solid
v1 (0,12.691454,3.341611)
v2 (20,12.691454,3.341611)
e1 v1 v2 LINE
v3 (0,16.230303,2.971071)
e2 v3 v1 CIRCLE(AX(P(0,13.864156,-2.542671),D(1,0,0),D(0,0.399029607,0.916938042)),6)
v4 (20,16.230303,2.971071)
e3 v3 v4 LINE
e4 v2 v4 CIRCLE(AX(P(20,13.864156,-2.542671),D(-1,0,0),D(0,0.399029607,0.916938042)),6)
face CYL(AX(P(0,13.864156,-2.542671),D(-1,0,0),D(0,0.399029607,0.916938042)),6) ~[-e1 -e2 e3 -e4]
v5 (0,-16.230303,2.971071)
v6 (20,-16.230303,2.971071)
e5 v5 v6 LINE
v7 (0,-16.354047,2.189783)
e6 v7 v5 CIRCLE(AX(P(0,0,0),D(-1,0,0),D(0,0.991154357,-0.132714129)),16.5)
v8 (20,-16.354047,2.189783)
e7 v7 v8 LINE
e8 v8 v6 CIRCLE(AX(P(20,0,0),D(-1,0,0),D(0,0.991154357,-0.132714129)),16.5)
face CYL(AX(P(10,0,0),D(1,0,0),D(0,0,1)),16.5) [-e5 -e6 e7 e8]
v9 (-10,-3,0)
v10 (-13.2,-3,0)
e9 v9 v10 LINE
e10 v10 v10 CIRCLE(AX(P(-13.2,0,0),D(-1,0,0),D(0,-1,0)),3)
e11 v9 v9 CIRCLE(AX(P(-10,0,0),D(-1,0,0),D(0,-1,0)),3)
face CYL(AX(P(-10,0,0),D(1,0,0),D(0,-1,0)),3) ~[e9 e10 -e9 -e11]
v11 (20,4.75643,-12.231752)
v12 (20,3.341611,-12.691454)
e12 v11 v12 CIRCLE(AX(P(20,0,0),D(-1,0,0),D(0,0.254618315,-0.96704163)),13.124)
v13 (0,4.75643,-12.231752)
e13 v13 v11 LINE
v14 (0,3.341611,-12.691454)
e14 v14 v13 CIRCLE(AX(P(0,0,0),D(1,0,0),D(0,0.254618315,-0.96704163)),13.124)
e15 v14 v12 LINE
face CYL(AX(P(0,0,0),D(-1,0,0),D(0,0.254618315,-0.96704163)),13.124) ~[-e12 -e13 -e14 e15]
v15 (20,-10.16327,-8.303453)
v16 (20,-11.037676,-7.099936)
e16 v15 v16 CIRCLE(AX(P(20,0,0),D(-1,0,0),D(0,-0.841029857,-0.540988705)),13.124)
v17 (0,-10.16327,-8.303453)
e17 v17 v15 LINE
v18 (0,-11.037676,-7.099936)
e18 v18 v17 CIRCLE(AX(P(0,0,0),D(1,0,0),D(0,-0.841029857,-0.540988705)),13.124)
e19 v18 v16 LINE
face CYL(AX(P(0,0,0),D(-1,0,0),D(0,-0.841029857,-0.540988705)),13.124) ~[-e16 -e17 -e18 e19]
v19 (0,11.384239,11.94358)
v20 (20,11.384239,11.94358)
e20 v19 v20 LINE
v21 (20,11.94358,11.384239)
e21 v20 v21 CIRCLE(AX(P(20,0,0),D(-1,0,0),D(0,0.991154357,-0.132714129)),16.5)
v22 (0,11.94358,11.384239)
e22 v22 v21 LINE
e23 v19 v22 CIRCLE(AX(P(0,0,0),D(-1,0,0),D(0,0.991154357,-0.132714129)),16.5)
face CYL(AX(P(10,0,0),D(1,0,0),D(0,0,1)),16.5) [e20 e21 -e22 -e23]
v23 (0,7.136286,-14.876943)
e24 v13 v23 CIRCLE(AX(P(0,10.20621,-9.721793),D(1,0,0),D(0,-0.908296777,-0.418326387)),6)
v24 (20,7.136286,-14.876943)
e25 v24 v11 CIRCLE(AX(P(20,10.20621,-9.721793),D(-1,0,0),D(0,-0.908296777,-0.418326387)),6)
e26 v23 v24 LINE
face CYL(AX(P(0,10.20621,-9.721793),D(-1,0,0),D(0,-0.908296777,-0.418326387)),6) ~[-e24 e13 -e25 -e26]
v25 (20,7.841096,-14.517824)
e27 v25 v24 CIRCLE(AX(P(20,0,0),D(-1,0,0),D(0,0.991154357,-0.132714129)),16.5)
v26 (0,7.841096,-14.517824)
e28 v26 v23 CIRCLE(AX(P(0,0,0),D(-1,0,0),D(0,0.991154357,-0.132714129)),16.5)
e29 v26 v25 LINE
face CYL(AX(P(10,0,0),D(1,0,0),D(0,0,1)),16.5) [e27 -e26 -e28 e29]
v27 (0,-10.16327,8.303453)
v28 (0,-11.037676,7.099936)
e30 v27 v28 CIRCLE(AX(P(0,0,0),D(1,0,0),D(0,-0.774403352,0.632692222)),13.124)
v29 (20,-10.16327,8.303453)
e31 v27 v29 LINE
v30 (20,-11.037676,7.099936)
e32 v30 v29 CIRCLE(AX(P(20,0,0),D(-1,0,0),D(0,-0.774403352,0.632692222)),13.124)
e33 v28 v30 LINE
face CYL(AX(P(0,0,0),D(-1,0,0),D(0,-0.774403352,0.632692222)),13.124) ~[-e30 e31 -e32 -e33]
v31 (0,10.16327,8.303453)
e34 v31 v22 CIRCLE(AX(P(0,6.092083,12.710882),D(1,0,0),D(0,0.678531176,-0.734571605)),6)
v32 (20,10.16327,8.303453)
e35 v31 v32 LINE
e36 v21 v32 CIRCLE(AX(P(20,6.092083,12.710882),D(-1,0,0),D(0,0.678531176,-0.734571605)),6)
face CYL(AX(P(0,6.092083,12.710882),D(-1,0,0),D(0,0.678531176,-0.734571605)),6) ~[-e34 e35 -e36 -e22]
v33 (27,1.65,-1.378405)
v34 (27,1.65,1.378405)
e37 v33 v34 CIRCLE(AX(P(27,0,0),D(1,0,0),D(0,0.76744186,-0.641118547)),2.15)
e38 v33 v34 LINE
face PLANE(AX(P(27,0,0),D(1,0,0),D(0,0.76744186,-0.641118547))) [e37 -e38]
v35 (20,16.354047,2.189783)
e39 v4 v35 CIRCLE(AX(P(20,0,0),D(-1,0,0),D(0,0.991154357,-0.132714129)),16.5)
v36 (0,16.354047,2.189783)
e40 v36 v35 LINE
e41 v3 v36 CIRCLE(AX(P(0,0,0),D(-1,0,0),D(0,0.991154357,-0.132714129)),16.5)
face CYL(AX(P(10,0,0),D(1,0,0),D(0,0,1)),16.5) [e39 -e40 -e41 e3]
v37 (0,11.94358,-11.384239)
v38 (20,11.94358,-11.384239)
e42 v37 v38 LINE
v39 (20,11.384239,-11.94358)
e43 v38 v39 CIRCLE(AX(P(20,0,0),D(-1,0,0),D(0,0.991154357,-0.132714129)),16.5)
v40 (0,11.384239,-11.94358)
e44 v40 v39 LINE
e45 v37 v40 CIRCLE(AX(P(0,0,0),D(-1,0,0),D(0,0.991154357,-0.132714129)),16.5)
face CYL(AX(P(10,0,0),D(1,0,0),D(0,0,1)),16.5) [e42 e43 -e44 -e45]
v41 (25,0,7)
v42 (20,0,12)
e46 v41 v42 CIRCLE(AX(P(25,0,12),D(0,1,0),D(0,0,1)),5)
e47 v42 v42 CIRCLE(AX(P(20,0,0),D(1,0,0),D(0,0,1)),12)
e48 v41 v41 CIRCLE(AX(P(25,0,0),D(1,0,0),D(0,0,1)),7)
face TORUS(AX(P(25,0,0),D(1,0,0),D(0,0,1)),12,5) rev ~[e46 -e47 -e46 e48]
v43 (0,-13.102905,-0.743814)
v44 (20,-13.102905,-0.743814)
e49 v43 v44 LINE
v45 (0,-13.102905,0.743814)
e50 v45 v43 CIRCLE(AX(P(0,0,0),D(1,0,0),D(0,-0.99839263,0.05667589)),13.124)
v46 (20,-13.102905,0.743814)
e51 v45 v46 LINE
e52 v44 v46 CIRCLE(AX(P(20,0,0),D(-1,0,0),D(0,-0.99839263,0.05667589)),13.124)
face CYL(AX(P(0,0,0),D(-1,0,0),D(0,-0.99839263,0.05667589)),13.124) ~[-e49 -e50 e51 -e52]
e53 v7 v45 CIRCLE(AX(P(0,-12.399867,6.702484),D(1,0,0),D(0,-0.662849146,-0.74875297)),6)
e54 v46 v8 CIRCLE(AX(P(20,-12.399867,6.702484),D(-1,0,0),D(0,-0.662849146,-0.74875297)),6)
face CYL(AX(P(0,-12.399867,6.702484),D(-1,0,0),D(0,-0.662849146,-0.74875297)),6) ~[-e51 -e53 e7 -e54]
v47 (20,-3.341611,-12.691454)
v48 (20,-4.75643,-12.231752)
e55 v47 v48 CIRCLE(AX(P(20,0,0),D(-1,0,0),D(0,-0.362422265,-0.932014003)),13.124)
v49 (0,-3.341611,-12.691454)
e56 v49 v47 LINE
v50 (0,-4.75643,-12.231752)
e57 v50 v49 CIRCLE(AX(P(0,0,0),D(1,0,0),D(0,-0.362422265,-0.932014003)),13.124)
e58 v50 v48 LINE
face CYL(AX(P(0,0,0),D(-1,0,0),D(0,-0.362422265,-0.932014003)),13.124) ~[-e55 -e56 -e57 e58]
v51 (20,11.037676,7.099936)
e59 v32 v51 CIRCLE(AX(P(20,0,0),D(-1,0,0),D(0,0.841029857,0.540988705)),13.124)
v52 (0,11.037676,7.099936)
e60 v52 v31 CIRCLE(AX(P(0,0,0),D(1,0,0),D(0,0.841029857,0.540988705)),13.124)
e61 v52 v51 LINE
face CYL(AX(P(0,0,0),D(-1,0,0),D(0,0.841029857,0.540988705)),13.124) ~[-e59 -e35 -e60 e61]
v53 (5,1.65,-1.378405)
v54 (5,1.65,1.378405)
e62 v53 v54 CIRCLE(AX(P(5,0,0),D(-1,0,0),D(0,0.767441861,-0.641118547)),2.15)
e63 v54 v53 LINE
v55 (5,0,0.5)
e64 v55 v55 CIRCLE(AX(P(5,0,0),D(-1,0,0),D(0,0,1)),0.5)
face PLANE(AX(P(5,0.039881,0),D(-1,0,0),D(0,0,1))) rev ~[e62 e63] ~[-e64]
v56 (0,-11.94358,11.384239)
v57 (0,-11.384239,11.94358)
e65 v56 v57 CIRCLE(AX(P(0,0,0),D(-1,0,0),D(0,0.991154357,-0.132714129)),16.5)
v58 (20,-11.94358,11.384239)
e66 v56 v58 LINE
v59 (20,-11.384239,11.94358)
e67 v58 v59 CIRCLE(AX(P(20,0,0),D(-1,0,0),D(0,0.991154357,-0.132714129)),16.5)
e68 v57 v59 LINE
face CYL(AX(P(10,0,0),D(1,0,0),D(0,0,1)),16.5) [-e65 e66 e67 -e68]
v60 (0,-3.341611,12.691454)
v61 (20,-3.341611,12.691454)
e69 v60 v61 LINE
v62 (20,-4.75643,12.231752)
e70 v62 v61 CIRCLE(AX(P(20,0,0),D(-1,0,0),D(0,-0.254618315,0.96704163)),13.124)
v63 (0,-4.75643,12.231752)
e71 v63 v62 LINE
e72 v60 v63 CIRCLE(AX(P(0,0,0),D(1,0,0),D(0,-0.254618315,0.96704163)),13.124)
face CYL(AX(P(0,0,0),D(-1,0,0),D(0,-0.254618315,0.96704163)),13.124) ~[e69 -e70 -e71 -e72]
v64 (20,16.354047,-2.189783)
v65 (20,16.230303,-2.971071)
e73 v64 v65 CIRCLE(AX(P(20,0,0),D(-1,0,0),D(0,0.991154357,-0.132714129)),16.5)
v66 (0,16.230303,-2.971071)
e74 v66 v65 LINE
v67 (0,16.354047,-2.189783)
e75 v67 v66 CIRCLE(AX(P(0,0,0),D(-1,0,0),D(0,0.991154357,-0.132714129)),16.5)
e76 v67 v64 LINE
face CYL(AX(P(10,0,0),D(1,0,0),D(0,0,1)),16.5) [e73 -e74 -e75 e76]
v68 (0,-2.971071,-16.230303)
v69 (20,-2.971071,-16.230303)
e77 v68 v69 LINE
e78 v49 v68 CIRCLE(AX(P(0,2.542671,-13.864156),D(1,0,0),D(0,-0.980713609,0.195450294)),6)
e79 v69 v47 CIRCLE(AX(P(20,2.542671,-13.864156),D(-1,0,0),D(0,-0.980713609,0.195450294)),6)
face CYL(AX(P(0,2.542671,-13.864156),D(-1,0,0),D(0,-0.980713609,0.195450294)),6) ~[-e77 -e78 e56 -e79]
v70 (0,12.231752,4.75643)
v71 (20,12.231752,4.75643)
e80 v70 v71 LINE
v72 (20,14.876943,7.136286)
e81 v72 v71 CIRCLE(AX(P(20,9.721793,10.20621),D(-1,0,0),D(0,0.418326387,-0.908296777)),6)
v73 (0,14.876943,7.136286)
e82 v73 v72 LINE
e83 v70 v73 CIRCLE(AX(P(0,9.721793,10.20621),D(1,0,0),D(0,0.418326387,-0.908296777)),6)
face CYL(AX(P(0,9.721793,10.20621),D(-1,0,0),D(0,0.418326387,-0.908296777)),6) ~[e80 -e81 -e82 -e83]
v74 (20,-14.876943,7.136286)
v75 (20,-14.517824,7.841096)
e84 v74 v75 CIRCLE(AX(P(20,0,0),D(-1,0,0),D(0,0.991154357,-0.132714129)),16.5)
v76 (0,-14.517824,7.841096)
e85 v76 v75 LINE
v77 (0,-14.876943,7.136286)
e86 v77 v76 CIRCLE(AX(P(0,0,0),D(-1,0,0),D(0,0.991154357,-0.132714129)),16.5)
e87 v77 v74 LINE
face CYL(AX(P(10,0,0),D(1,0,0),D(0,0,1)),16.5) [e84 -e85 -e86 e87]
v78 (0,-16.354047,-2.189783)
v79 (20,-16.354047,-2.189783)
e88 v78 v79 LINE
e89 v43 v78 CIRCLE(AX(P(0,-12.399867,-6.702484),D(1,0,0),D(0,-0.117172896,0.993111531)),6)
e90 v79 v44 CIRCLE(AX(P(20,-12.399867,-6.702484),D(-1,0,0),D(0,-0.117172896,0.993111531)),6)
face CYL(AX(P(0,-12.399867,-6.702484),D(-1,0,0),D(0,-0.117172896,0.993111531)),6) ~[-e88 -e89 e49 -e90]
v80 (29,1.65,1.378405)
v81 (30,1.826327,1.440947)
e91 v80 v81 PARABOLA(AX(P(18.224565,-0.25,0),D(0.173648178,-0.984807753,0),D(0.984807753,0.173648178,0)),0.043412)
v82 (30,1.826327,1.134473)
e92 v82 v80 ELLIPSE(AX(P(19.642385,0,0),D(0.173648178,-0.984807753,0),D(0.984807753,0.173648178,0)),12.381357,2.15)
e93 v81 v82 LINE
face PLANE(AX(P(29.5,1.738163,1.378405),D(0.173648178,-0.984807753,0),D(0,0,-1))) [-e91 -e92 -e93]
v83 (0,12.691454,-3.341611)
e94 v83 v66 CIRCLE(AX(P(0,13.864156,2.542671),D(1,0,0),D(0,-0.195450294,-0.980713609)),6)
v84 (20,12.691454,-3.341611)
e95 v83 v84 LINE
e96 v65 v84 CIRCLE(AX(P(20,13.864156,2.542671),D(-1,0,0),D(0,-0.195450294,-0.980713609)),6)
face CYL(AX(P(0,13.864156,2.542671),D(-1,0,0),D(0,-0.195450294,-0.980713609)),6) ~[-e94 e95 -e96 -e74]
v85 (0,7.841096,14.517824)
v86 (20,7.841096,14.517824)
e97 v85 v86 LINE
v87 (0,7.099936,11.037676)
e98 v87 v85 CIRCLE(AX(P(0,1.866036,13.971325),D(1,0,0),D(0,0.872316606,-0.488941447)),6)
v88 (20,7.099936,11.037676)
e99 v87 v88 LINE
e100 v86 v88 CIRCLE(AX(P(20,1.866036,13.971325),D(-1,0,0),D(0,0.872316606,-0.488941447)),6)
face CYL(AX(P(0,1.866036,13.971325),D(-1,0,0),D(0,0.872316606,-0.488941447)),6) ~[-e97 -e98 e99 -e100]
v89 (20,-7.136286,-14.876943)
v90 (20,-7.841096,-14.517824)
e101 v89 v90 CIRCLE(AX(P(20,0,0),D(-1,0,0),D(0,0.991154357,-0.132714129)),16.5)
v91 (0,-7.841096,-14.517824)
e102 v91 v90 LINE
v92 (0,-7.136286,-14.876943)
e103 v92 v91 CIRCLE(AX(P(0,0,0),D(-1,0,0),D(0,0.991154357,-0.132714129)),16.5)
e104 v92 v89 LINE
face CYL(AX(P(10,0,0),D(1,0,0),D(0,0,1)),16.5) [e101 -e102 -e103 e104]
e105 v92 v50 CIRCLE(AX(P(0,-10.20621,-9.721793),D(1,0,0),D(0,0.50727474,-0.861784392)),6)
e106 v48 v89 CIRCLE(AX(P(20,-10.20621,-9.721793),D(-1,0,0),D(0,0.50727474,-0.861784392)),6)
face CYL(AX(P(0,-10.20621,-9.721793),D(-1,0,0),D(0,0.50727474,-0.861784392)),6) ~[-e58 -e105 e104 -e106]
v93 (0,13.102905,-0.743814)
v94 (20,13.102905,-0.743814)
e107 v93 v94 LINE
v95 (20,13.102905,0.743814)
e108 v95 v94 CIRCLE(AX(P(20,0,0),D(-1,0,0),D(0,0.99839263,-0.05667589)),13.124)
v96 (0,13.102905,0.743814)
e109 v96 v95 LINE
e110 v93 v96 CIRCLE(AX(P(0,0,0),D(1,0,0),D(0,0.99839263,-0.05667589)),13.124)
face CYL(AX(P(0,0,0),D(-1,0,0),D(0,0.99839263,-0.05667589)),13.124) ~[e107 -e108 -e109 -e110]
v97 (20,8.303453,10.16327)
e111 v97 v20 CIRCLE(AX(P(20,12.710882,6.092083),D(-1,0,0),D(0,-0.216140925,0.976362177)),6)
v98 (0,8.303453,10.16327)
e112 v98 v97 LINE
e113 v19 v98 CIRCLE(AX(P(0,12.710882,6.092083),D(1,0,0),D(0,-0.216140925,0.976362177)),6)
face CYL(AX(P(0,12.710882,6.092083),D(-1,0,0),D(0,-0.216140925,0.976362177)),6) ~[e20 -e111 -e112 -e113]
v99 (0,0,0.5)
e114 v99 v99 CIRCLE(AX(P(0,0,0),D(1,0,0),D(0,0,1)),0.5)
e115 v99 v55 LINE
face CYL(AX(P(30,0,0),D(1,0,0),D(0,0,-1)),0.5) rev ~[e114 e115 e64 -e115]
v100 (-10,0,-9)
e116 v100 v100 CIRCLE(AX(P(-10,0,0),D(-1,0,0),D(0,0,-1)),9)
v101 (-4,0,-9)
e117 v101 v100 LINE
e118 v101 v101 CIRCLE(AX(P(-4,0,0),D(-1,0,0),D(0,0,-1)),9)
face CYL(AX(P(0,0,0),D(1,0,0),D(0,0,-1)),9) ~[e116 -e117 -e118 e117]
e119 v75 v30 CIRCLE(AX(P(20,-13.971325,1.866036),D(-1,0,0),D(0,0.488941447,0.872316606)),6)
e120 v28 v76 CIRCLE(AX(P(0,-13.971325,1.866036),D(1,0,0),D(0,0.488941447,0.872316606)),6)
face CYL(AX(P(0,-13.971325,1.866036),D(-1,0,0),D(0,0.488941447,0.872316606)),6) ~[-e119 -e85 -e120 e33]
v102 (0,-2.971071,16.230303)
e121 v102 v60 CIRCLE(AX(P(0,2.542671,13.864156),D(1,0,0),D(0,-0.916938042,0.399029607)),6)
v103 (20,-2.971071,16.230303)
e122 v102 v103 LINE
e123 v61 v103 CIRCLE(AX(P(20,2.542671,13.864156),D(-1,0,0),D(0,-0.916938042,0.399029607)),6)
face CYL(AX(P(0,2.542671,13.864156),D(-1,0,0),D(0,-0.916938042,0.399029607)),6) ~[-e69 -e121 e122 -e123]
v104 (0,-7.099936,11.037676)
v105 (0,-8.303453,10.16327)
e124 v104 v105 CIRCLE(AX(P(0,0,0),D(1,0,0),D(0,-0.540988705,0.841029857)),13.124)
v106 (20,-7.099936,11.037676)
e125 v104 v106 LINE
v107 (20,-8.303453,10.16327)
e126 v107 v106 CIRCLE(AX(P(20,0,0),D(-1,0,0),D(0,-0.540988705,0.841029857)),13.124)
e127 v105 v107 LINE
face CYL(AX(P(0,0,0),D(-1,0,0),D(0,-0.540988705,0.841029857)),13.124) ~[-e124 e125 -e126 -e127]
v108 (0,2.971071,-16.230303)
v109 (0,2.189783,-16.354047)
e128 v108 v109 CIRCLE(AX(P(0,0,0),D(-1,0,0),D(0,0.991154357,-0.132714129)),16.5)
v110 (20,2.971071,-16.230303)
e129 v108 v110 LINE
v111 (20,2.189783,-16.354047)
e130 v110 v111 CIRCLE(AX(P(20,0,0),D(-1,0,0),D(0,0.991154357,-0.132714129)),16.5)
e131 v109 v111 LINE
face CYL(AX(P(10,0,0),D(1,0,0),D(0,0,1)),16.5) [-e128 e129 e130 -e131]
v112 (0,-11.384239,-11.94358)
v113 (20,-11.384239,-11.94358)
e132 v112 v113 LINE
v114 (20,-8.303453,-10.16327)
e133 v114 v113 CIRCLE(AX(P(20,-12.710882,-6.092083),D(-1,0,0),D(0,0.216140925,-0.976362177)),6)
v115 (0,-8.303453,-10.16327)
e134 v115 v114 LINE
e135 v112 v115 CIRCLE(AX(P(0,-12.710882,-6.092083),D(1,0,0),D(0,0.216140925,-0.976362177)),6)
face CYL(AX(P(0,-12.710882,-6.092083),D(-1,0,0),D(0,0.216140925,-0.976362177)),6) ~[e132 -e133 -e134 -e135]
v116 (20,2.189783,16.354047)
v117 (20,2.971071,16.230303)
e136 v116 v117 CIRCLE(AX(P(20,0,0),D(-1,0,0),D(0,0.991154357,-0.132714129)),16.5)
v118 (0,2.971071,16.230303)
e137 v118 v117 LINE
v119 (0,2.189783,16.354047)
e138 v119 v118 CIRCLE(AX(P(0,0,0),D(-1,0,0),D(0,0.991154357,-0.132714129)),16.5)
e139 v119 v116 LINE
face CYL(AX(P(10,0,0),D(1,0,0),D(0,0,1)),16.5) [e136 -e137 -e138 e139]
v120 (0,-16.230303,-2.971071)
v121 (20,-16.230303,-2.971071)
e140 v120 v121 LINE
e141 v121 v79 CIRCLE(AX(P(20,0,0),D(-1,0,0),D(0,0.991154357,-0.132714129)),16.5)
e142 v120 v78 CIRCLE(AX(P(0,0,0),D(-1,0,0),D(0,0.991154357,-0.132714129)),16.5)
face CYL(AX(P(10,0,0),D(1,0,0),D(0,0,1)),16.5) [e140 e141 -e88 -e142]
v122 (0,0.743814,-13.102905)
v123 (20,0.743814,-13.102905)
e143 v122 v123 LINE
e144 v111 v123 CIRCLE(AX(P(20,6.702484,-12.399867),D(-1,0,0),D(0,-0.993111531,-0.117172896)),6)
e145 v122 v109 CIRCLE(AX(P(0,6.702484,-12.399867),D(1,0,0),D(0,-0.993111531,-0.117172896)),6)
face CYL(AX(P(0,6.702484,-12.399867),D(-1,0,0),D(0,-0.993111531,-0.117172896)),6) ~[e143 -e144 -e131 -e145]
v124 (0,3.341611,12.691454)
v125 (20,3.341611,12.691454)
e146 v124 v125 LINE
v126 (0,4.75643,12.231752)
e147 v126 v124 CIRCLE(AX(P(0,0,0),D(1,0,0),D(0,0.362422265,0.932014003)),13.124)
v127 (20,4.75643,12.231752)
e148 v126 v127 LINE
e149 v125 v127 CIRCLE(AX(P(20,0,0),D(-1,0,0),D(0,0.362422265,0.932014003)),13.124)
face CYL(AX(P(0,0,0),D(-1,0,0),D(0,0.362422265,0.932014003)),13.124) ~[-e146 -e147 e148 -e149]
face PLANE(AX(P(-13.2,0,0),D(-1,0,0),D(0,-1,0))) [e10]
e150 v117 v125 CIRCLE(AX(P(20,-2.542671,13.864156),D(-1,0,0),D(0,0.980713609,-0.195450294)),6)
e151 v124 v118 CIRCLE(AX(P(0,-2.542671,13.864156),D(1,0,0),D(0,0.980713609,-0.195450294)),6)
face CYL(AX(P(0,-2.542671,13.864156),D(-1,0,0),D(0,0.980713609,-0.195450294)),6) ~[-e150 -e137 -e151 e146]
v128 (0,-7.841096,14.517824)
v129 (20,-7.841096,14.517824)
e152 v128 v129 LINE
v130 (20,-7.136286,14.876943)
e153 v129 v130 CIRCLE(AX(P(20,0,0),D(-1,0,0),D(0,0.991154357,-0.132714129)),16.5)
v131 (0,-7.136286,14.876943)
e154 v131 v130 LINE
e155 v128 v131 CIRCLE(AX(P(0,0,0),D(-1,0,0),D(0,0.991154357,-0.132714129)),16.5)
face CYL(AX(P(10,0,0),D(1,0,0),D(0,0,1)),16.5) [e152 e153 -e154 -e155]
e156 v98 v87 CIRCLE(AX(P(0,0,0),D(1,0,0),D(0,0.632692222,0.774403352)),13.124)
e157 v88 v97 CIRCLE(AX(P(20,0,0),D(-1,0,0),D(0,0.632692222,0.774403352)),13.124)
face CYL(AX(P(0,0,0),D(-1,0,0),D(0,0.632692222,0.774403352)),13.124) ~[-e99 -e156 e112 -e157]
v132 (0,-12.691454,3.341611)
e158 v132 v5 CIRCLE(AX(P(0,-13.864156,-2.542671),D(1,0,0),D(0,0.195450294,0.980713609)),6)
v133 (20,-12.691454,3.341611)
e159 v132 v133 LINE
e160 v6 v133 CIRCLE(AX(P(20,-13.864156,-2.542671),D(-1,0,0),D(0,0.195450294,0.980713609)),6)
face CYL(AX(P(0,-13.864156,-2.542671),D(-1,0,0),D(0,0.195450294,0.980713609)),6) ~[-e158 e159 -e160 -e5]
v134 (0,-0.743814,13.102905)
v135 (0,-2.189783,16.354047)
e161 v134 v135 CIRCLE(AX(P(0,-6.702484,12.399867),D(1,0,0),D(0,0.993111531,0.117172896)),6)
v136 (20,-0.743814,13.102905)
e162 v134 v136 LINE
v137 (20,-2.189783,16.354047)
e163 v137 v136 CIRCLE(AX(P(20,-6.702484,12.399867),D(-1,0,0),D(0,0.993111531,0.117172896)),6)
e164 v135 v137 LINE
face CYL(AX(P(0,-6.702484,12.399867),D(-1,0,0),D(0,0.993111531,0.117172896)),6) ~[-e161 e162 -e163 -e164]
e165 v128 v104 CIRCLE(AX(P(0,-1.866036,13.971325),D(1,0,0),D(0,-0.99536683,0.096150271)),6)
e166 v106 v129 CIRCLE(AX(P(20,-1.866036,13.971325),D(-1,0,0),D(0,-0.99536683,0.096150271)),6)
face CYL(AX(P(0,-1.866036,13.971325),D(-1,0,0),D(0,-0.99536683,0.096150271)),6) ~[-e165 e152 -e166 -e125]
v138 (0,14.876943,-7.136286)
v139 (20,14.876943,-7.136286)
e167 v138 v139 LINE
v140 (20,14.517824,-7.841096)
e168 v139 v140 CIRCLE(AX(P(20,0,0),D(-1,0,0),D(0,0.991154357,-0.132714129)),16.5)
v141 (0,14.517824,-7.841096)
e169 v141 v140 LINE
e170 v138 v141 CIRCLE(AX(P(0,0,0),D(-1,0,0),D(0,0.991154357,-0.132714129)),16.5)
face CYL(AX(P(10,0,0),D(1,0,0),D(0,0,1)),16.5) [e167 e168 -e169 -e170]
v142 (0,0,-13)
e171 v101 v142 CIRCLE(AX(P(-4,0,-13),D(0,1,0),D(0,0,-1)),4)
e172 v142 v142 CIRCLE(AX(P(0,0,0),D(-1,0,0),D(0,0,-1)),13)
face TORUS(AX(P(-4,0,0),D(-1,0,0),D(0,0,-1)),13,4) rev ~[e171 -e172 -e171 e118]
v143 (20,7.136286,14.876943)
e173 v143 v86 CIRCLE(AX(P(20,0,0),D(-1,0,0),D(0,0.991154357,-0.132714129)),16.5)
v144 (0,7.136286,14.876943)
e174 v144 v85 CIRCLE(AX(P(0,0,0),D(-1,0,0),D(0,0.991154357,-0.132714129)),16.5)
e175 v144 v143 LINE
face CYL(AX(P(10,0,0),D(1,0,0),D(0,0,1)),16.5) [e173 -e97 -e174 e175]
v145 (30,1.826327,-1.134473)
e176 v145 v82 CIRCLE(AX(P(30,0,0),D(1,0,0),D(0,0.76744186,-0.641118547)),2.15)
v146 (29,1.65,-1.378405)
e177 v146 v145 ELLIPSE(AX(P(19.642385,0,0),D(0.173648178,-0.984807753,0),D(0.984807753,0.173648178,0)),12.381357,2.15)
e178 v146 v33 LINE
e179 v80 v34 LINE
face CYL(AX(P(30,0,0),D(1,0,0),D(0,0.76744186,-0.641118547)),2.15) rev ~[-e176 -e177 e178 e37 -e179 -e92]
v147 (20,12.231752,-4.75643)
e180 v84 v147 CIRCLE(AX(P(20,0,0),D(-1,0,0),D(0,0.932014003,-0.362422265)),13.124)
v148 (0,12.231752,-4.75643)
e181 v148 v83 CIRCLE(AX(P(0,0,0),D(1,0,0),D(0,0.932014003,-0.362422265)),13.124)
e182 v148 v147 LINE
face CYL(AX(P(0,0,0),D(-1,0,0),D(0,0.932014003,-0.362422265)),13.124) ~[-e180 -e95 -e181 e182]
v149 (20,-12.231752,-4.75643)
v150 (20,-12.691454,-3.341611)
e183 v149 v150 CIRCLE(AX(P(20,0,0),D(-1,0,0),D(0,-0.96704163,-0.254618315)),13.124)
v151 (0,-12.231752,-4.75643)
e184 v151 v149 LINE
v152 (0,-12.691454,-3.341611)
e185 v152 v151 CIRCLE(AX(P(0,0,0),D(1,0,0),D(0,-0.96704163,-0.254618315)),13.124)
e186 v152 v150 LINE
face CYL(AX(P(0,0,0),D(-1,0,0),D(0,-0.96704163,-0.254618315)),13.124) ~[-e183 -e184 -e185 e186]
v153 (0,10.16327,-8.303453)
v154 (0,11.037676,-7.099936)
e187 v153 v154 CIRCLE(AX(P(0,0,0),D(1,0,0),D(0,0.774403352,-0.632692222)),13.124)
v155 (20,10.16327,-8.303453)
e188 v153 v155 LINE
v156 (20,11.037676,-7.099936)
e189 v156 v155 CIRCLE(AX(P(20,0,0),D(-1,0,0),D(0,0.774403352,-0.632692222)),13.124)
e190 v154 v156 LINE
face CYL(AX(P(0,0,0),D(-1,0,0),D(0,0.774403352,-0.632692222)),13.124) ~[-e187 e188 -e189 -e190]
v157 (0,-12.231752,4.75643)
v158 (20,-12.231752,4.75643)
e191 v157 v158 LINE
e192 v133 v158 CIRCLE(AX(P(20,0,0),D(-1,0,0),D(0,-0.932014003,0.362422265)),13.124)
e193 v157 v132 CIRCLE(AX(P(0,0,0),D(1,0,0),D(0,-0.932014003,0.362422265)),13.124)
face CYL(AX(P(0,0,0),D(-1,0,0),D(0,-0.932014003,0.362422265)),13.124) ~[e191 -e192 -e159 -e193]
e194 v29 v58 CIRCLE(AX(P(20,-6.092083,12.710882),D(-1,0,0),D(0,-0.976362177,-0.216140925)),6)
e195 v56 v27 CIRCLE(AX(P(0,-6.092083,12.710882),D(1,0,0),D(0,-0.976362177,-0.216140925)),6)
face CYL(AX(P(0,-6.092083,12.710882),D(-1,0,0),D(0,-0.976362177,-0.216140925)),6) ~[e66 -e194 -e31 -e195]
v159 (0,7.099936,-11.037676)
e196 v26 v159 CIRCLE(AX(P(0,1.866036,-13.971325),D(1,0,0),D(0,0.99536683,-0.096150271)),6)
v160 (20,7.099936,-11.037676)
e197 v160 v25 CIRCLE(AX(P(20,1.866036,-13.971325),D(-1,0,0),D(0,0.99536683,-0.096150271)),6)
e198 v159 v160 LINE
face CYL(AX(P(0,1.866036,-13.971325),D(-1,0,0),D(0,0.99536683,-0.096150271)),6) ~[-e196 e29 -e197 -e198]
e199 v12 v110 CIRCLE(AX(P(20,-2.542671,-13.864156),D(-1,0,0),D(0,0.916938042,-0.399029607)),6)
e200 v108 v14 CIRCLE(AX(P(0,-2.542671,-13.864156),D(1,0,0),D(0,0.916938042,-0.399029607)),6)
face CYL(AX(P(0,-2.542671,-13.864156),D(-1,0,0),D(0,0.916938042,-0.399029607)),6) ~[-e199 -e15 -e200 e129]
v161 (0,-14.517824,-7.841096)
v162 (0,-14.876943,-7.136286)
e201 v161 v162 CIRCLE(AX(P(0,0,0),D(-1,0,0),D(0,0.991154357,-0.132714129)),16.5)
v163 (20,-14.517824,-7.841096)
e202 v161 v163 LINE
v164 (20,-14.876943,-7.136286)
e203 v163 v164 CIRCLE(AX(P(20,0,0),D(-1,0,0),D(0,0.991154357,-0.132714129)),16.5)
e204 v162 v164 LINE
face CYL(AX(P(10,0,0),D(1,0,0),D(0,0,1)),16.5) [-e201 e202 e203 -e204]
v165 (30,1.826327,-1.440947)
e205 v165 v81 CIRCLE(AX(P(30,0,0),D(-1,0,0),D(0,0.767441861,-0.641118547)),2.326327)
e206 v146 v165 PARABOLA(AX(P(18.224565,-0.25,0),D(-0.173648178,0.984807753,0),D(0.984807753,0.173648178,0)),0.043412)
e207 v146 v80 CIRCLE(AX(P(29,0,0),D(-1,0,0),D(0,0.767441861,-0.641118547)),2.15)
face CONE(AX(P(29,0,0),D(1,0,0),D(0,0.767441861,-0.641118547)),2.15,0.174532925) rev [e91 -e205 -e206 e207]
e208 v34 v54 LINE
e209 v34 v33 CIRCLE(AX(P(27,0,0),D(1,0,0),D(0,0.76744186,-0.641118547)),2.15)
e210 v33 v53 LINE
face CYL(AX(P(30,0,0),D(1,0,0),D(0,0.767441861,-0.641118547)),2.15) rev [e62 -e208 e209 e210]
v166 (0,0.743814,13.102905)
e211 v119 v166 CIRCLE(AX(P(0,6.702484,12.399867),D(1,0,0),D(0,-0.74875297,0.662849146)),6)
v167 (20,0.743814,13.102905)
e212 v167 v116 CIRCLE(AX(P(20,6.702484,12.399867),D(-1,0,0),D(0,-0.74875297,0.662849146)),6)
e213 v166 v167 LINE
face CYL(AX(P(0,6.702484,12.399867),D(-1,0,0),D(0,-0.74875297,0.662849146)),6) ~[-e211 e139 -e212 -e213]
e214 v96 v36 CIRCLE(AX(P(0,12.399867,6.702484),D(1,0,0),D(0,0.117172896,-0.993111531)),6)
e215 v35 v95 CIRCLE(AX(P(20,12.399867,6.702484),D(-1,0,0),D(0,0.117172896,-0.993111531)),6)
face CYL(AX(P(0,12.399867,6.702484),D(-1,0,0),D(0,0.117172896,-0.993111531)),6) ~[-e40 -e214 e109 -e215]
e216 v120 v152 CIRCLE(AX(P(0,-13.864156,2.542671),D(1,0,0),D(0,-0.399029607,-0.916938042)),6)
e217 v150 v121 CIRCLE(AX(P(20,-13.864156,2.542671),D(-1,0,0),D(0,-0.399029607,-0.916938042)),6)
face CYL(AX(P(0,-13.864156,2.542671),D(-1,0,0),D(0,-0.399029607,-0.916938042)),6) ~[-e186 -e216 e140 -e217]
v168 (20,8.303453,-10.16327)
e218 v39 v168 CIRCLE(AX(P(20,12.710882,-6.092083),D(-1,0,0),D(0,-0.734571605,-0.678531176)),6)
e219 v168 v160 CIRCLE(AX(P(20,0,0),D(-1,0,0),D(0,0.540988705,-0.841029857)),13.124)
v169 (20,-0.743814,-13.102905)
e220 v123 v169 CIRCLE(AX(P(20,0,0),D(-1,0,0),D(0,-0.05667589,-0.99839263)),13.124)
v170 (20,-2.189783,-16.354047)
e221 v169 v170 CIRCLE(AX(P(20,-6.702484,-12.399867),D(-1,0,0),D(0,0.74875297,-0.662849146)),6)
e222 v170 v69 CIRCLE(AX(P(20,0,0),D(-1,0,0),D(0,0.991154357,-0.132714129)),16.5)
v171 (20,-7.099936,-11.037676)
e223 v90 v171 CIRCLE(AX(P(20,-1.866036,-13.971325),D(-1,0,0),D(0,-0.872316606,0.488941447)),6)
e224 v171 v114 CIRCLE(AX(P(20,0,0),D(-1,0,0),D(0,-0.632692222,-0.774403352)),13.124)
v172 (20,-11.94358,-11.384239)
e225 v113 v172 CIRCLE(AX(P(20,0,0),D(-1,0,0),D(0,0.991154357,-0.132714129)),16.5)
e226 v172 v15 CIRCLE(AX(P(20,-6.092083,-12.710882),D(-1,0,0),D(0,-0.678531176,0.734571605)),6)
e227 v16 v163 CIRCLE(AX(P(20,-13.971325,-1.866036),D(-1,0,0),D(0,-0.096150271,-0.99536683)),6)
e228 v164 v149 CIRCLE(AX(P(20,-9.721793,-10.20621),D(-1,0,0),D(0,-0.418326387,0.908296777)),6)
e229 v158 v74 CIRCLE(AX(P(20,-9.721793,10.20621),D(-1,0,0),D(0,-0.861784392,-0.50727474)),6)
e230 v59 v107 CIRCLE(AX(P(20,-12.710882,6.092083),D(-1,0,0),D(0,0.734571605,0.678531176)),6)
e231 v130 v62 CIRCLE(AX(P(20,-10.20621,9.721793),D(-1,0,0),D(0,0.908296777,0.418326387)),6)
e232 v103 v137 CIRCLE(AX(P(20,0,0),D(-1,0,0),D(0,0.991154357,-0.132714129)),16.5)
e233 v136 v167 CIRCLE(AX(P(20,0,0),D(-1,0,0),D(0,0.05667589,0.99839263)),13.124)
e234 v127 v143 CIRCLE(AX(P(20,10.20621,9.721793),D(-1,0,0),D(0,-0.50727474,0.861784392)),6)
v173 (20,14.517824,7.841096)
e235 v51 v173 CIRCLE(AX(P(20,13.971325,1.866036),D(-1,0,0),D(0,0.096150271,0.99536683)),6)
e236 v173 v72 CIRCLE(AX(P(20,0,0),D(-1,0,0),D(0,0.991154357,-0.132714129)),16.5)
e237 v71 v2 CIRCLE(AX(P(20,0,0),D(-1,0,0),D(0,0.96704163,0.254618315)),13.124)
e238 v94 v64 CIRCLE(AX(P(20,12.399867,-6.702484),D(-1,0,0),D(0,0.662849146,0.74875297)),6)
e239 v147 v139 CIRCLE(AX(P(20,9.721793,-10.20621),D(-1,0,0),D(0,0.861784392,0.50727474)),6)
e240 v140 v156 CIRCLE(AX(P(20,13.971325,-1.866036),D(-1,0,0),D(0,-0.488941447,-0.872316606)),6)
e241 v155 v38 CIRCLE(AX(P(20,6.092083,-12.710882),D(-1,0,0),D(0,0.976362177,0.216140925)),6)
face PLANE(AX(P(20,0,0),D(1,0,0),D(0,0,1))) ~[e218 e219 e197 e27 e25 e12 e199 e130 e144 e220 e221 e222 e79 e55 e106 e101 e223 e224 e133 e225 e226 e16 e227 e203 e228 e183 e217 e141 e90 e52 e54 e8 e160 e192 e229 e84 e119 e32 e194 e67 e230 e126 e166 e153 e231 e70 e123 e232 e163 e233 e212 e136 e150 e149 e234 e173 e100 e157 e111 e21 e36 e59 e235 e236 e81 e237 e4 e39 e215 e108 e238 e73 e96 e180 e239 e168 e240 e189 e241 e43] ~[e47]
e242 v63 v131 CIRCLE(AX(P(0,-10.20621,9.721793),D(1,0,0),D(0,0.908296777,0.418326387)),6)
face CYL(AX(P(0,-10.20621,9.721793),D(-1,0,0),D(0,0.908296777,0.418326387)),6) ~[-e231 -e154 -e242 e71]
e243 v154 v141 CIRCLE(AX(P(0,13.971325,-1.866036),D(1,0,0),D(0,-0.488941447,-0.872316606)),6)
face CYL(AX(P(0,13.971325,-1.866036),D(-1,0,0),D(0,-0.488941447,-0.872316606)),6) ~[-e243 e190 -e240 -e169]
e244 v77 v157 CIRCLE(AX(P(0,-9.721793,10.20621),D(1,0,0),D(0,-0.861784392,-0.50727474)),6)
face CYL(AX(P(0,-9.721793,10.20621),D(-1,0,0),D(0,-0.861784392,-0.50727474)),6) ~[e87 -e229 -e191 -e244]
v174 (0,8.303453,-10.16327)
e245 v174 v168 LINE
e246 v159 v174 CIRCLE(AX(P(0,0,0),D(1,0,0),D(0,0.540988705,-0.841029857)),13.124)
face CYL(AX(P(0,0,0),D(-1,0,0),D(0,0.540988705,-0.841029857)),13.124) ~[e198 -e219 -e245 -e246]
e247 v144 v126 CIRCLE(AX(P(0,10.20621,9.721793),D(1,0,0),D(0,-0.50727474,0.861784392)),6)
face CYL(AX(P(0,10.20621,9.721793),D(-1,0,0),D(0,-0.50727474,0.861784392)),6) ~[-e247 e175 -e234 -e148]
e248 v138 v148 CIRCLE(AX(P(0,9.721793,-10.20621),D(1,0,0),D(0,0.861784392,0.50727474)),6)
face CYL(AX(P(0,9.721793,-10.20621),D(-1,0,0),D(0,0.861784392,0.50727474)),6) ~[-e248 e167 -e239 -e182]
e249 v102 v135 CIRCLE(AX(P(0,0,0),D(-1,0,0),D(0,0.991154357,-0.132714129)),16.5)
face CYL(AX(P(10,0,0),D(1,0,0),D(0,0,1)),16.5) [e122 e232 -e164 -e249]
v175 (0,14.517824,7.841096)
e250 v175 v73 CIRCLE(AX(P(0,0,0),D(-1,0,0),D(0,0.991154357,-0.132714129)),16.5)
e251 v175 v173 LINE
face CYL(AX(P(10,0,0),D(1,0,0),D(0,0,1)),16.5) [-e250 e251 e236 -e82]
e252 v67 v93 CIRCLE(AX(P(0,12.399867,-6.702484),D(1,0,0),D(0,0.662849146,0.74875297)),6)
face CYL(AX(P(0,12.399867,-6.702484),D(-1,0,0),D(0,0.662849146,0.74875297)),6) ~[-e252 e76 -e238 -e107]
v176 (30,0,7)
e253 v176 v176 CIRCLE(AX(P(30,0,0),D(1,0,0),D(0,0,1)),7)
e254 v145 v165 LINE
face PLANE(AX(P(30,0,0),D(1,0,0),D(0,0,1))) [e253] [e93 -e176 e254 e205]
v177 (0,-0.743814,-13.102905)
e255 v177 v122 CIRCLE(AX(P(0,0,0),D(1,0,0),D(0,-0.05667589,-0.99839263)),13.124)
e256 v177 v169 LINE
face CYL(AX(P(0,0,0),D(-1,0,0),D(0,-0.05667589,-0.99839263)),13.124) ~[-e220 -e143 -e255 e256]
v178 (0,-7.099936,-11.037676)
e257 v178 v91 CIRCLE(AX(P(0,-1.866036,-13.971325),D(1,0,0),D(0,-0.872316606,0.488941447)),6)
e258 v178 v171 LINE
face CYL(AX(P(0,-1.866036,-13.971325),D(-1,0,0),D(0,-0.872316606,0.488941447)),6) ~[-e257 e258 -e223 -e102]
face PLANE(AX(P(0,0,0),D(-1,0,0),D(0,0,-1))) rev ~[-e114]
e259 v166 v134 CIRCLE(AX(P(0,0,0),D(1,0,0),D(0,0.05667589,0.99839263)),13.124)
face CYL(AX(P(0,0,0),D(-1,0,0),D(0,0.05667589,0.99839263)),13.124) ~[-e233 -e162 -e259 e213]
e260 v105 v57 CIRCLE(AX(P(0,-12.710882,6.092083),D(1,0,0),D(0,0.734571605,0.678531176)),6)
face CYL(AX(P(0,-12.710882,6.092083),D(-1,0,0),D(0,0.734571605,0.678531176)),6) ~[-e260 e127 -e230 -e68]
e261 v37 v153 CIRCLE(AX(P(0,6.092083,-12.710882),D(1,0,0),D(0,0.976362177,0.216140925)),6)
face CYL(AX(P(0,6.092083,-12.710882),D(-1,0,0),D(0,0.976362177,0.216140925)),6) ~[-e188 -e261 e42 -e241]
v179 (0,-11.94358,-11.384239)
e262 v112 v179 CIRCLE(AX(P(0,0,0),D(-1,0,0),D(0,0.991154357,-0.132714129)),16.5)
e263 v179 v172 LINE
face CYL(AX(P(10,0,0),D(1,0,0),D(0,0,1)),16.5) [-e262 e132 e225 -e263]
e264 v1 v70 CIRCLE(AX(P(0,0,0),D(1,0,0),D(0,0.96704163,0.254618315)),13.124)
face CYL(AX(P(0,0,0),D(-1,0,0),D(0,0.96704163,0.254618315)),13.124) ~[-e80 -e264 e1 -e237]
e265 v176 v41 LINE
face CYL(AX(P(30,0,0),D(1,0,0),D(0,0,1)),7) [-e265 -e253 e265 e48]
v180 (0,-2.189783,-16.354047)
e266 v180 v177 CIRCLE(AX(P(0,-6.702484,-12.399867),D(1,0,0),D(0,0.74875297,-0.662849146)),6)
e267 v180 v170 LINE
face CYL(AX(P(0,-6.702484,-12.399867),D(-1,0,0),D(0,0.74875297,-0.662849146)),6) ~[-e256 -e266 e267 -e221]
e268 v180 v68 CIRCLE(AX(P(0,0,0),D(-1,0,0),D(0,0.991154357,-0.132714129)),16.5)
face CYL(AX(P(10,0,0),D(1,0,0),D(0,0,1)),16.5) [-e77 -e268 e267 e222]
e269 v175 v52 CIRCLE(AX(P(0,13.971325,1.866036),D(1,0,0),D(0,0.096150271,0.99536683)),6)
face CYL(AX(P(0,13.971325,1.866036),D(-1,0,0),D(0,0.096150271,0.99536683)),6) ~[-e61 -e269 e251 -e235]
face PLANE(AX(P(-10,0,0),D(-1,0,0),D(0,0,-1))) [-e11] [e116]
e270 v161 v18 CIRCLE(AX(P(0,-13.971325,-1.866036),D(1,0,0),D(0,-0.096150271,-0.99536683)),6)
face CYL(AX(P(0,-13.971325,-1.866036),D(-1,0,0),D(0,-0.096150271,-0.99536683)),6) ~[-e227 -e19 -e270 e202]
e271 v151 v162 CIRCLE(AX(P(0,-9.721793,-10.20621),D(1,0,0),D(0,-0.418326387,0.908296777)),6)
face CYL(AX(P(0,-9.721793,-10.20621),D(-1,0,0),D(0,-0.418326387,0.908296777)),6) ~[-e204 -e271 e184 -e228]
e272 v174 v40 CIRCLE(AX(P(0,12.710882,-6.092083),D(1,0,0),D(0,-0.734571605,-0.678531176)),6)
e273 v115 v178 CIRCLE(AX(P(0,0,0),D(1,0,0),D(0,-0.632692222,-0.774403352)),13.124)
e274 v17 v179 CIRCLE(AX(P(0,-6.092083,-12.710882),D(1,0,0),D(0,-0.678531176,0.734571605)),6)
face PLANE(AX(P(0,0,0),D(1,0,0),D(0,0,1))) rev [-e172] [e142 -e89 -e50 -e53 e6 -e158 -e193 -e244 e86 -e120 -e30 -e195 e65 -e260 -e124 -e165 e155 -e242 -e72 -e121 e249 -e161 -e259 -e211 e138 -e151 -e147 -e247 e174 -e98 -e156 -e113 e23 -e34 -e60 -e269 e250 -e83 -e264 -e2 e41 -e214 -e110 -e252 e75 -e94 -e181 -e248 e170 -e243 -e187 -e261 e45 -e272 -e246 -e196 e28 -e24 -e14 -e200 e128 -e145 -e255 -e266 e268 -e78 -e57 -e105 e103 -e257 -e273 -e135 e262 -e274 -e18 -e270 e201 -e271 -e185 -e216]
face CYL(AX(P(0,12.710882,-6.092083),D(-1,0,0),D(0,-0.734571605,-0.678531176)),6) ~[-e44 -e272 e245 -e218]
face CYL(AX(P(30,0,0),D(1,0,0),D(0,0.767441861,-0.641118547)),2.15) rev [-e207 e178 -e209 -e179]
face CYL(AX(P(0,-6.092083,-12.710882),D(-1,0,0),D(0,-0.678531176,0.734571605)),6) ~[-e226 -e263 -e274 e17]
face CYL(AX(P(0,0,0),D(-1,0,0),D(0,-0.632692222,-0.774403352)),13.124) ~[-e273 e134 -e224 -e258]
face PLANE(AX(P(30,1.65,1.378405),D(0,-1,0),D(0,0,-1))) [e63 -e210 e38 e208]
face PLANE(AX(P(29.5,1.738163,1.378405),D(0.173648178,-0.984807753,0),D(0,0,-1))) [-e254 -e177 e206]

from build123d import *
from OCP.BRepFilletAPI import BRepFilletAPI_MakeChamfer
from build123d.topology import SkipClean

# Parameters (mm, degrees)
BASPROSKE_W         = 20
BASPROSKE_H         = 16.5
TOOTHCUT_DEPTH      = 31.732718721
TEETHCUTS_COUNT     = 20
TEETHCUTS_ANGLE     = 342
BORSKE_R            = 0.5
BORE_DEPTH          = 50.0000508
BOSS_EXTRUDE1_START = 10
SKETCH1_R           = 7
SKETCH1_R_2         = 0.5
BOSS_EXTRUDE1_DEPTH = 10
FILLET1_R           = 5
SKETCH2_R           = 9
BOSS_EXTRUDE2_DEPTH = 10
SKETCH3_R           = 3
BOSS_EXTRUDE3_DEPTH = 3.2
FILLET2_R           = 4
CUT_EXTRUDE1_DEPTH  = 25
CHAMFER2_SIZE       = 1
CHAMFER2_SIZE2      = 0.176326981
SKETCH5_R           = 2.15
CUT_EXTRUDE2_DEPTH  = 3


with BuildPart() as part:
    # BasProSke → Base-Revolve (revolve)
    with BuildSketch(Plane(origin=(0, 0, 0), x_dir=(1, 0, 0), z_dir=(0, 1, 0)), mode=Mode.PRIVATE) as base_revolve_sk:
        with Locations((10, 8.25)):
            Rectangle(BASPROSKE_W, BASPROSKE_H)
    revolve(base_revolve_sk.sketch.rotate(Axis((-10, 0, 0), (1, 0, 0)), 180), axis=Axis((-10, 0, 0), (1, 0, 0)))

    # TooCutSke → ToothCut (cut, through all)
    with BuildSketch(Plane(origin=(0, 0, 0), x_dir=(0, 0, -1), z_dir=(1, 0, 0))):
        with BuildLine():
            ThreePointArc((0.74381438, 13.102904875), (0, 13.124), (-0.74381438, 13.102904875))
            ThreePointArc((-0.74381438, 13.102904875), (-1.226473103, 14.852072512), (-2.209965745, 16.376962373))
            ThreePointArc((-2.209965745, 16.376962373), (0, 16.5254), (2.209965745, 16.376962373))
            ThreePointArc((2.209965745, 16.376962373), (1.226473103, 14.852072512), (0.74381438, 13.102904875))
        make_face()
    toothcut = extrude(amount=TOOTHCUT_DEPTH, mode=Mode.SUBTRACT)

    # TeethCuts: ToothCut ×20 about axis
    teethcuts_axis = Axis((-10, 0, 0), (1, 0, 0))
    for i in range(1, TEETHCUTS_COUNT):
        add(toothcut.rotate(teethcuts_axis, i * TEETHCUTS_ANGLE / (TEETHCUTS_COUNT - 1)), mode=Mode.SUBTRACT)

    # BorSke → Bore (cut, symmetric)
    with BuildSketch(Plane(origin=(0, 0, 0), x_dir=(0, 0, -1), z_dir=(1, 0, 0))):
        with Locations(Location((0, 0, 0), (0, 0, 180))):
            Circle(BORSKE_R)
    extrude(amount=BORE_DEPTH, both=True, mode=Mode.SUBTRACT)

    # Sketch1 → Boss-Extrude1 (add)
    with BuildSketch(Plane(origin=(20, 0, 0), x_dir=(0, 0, -1), z_dir=(1, 0, 0)).offset(BOSS_EXTRUDE1_START)):
        with Locations(Location((0, 0, 0), (0, 0, 180))):
            Circle(SKETCH1_R)
        Circle(SKETCH1_R_2, mode=Mode.SUBTRACT)
    extrude(amount=-BOSS_EXTRUDE1_DEPTH)

    # Fillet1
    fillet1_edges = [part.edges().sort_by_distance(p)[0] for p in [
        (20, 0, -7),
    ]]
    fillet(fillet1_edges, radius=FILLET1_R)

    # Sketch2 → Boss-Extrude2 (add)
    with BuildSketch(Plane.ZY):
        with Locations(Location((0, 0, 0), (0, 0, 180))):
            Circle(SKETCH2_R)
    extrude(amount=BOSS_EXTRUDE2_DEPTH)

    # Sketch3 → Boss-Extrude3 (add)
    with BuildSketch(Plane.ZY.offset(10)):
        with Locations(Location((0, 0, 0), (0, 0, 270))):
            Circle(SKETCH3_R)
    extrude(amount=BOSS_EXTRUDE3_DEPTH)

    # Fillet2
    fillet2_edges = [part.edges().sort_by_distance(p)[0] for p in [
        (0, 0, 9),
    ]]
    fillet(fillet2_edges, radius=FILLET2_R)

    # Sketch4 → Cut-Extrude1 (cut)
    with BuildSketch(Plane(origin=(30, 0, 0), x_dir=(0, 0, -1), z_dir=(1, 0, 0))):
        with BuildLine():
            Line((-1.378404875, 1.65), (1.378404875, 1.65))
            ThreePointArc((1.378404875, 1.65), (0, -2.15), (-1.378404875, 1.65))
        make_face()
    extrude(amount=-CUT_EXTRUDE1_DEPTH, mode=Mode.SUBTRACT)

    # Chamfer2: one chamfer whose edges measure the first distance from different faces: ONE call of the kernel's chamfer builder (chamfer() names one face for all edges)
    chamfer2_edges_1 = [part.edges().sort_by_distance(p)[0] for p in [
        (30, 1.65, 0),
    ]]
    chamfer2_side_1 = [part.faces().sort_by_distance(p)[0] for p in [
        (17.5, 1.65, 0),
    ]]
    chamfer2_edges_2 = [part.edges().sort_by_distance(p)[0] for p in [
        (30, -2.15, 0),
    ]]
    chamfer2_side_2 = [part.faces().sort_by_distance(p)[0] for p in [
        (17.5, -2.15, 0),
    ]]
    chamfer2 = BRepFilletAPI_MakeChamfer(part.part.solid().wrapped)
    for e in chamfer2_edges_1:
        chamfer2.Add(CHAMFER2_SIZE, CHAMFER2_SIZE2, e.wrapped, chamfer2_side_1[0].wrapped)  # the first distance lies on this face
    for e in chamfer2_edges_2:
        chamfer2.Add(CHAMFER2_SIZE, CHAMFER2_SIZE2, e.wrapped, chamfer2_side_2[0].wrapped)  # the first distance lies on this face
    add(Compound.cast(chamfer2.Shape()), mode=Mode.REPLACE)

    # Sketch5 → Cut-Extrude2 (cut)
    with SkipClean():  # the faces are left unmerged after this step: merging them gives an invalid solid
        with BuildSketch(Plane(origin=(30, 0, 0), x_dir=(0, 0, -1), z_dir=(1, 0, 0))):
            with Locations(Location((0, 0, 0), (0, 0, 50.124722643))):
                Circle(SKETCH5_R)
        extrude(amount=-CUT_EXTRUDE2_DEPTH, mode=Mode.SUBTRACT)


solid = part.part
